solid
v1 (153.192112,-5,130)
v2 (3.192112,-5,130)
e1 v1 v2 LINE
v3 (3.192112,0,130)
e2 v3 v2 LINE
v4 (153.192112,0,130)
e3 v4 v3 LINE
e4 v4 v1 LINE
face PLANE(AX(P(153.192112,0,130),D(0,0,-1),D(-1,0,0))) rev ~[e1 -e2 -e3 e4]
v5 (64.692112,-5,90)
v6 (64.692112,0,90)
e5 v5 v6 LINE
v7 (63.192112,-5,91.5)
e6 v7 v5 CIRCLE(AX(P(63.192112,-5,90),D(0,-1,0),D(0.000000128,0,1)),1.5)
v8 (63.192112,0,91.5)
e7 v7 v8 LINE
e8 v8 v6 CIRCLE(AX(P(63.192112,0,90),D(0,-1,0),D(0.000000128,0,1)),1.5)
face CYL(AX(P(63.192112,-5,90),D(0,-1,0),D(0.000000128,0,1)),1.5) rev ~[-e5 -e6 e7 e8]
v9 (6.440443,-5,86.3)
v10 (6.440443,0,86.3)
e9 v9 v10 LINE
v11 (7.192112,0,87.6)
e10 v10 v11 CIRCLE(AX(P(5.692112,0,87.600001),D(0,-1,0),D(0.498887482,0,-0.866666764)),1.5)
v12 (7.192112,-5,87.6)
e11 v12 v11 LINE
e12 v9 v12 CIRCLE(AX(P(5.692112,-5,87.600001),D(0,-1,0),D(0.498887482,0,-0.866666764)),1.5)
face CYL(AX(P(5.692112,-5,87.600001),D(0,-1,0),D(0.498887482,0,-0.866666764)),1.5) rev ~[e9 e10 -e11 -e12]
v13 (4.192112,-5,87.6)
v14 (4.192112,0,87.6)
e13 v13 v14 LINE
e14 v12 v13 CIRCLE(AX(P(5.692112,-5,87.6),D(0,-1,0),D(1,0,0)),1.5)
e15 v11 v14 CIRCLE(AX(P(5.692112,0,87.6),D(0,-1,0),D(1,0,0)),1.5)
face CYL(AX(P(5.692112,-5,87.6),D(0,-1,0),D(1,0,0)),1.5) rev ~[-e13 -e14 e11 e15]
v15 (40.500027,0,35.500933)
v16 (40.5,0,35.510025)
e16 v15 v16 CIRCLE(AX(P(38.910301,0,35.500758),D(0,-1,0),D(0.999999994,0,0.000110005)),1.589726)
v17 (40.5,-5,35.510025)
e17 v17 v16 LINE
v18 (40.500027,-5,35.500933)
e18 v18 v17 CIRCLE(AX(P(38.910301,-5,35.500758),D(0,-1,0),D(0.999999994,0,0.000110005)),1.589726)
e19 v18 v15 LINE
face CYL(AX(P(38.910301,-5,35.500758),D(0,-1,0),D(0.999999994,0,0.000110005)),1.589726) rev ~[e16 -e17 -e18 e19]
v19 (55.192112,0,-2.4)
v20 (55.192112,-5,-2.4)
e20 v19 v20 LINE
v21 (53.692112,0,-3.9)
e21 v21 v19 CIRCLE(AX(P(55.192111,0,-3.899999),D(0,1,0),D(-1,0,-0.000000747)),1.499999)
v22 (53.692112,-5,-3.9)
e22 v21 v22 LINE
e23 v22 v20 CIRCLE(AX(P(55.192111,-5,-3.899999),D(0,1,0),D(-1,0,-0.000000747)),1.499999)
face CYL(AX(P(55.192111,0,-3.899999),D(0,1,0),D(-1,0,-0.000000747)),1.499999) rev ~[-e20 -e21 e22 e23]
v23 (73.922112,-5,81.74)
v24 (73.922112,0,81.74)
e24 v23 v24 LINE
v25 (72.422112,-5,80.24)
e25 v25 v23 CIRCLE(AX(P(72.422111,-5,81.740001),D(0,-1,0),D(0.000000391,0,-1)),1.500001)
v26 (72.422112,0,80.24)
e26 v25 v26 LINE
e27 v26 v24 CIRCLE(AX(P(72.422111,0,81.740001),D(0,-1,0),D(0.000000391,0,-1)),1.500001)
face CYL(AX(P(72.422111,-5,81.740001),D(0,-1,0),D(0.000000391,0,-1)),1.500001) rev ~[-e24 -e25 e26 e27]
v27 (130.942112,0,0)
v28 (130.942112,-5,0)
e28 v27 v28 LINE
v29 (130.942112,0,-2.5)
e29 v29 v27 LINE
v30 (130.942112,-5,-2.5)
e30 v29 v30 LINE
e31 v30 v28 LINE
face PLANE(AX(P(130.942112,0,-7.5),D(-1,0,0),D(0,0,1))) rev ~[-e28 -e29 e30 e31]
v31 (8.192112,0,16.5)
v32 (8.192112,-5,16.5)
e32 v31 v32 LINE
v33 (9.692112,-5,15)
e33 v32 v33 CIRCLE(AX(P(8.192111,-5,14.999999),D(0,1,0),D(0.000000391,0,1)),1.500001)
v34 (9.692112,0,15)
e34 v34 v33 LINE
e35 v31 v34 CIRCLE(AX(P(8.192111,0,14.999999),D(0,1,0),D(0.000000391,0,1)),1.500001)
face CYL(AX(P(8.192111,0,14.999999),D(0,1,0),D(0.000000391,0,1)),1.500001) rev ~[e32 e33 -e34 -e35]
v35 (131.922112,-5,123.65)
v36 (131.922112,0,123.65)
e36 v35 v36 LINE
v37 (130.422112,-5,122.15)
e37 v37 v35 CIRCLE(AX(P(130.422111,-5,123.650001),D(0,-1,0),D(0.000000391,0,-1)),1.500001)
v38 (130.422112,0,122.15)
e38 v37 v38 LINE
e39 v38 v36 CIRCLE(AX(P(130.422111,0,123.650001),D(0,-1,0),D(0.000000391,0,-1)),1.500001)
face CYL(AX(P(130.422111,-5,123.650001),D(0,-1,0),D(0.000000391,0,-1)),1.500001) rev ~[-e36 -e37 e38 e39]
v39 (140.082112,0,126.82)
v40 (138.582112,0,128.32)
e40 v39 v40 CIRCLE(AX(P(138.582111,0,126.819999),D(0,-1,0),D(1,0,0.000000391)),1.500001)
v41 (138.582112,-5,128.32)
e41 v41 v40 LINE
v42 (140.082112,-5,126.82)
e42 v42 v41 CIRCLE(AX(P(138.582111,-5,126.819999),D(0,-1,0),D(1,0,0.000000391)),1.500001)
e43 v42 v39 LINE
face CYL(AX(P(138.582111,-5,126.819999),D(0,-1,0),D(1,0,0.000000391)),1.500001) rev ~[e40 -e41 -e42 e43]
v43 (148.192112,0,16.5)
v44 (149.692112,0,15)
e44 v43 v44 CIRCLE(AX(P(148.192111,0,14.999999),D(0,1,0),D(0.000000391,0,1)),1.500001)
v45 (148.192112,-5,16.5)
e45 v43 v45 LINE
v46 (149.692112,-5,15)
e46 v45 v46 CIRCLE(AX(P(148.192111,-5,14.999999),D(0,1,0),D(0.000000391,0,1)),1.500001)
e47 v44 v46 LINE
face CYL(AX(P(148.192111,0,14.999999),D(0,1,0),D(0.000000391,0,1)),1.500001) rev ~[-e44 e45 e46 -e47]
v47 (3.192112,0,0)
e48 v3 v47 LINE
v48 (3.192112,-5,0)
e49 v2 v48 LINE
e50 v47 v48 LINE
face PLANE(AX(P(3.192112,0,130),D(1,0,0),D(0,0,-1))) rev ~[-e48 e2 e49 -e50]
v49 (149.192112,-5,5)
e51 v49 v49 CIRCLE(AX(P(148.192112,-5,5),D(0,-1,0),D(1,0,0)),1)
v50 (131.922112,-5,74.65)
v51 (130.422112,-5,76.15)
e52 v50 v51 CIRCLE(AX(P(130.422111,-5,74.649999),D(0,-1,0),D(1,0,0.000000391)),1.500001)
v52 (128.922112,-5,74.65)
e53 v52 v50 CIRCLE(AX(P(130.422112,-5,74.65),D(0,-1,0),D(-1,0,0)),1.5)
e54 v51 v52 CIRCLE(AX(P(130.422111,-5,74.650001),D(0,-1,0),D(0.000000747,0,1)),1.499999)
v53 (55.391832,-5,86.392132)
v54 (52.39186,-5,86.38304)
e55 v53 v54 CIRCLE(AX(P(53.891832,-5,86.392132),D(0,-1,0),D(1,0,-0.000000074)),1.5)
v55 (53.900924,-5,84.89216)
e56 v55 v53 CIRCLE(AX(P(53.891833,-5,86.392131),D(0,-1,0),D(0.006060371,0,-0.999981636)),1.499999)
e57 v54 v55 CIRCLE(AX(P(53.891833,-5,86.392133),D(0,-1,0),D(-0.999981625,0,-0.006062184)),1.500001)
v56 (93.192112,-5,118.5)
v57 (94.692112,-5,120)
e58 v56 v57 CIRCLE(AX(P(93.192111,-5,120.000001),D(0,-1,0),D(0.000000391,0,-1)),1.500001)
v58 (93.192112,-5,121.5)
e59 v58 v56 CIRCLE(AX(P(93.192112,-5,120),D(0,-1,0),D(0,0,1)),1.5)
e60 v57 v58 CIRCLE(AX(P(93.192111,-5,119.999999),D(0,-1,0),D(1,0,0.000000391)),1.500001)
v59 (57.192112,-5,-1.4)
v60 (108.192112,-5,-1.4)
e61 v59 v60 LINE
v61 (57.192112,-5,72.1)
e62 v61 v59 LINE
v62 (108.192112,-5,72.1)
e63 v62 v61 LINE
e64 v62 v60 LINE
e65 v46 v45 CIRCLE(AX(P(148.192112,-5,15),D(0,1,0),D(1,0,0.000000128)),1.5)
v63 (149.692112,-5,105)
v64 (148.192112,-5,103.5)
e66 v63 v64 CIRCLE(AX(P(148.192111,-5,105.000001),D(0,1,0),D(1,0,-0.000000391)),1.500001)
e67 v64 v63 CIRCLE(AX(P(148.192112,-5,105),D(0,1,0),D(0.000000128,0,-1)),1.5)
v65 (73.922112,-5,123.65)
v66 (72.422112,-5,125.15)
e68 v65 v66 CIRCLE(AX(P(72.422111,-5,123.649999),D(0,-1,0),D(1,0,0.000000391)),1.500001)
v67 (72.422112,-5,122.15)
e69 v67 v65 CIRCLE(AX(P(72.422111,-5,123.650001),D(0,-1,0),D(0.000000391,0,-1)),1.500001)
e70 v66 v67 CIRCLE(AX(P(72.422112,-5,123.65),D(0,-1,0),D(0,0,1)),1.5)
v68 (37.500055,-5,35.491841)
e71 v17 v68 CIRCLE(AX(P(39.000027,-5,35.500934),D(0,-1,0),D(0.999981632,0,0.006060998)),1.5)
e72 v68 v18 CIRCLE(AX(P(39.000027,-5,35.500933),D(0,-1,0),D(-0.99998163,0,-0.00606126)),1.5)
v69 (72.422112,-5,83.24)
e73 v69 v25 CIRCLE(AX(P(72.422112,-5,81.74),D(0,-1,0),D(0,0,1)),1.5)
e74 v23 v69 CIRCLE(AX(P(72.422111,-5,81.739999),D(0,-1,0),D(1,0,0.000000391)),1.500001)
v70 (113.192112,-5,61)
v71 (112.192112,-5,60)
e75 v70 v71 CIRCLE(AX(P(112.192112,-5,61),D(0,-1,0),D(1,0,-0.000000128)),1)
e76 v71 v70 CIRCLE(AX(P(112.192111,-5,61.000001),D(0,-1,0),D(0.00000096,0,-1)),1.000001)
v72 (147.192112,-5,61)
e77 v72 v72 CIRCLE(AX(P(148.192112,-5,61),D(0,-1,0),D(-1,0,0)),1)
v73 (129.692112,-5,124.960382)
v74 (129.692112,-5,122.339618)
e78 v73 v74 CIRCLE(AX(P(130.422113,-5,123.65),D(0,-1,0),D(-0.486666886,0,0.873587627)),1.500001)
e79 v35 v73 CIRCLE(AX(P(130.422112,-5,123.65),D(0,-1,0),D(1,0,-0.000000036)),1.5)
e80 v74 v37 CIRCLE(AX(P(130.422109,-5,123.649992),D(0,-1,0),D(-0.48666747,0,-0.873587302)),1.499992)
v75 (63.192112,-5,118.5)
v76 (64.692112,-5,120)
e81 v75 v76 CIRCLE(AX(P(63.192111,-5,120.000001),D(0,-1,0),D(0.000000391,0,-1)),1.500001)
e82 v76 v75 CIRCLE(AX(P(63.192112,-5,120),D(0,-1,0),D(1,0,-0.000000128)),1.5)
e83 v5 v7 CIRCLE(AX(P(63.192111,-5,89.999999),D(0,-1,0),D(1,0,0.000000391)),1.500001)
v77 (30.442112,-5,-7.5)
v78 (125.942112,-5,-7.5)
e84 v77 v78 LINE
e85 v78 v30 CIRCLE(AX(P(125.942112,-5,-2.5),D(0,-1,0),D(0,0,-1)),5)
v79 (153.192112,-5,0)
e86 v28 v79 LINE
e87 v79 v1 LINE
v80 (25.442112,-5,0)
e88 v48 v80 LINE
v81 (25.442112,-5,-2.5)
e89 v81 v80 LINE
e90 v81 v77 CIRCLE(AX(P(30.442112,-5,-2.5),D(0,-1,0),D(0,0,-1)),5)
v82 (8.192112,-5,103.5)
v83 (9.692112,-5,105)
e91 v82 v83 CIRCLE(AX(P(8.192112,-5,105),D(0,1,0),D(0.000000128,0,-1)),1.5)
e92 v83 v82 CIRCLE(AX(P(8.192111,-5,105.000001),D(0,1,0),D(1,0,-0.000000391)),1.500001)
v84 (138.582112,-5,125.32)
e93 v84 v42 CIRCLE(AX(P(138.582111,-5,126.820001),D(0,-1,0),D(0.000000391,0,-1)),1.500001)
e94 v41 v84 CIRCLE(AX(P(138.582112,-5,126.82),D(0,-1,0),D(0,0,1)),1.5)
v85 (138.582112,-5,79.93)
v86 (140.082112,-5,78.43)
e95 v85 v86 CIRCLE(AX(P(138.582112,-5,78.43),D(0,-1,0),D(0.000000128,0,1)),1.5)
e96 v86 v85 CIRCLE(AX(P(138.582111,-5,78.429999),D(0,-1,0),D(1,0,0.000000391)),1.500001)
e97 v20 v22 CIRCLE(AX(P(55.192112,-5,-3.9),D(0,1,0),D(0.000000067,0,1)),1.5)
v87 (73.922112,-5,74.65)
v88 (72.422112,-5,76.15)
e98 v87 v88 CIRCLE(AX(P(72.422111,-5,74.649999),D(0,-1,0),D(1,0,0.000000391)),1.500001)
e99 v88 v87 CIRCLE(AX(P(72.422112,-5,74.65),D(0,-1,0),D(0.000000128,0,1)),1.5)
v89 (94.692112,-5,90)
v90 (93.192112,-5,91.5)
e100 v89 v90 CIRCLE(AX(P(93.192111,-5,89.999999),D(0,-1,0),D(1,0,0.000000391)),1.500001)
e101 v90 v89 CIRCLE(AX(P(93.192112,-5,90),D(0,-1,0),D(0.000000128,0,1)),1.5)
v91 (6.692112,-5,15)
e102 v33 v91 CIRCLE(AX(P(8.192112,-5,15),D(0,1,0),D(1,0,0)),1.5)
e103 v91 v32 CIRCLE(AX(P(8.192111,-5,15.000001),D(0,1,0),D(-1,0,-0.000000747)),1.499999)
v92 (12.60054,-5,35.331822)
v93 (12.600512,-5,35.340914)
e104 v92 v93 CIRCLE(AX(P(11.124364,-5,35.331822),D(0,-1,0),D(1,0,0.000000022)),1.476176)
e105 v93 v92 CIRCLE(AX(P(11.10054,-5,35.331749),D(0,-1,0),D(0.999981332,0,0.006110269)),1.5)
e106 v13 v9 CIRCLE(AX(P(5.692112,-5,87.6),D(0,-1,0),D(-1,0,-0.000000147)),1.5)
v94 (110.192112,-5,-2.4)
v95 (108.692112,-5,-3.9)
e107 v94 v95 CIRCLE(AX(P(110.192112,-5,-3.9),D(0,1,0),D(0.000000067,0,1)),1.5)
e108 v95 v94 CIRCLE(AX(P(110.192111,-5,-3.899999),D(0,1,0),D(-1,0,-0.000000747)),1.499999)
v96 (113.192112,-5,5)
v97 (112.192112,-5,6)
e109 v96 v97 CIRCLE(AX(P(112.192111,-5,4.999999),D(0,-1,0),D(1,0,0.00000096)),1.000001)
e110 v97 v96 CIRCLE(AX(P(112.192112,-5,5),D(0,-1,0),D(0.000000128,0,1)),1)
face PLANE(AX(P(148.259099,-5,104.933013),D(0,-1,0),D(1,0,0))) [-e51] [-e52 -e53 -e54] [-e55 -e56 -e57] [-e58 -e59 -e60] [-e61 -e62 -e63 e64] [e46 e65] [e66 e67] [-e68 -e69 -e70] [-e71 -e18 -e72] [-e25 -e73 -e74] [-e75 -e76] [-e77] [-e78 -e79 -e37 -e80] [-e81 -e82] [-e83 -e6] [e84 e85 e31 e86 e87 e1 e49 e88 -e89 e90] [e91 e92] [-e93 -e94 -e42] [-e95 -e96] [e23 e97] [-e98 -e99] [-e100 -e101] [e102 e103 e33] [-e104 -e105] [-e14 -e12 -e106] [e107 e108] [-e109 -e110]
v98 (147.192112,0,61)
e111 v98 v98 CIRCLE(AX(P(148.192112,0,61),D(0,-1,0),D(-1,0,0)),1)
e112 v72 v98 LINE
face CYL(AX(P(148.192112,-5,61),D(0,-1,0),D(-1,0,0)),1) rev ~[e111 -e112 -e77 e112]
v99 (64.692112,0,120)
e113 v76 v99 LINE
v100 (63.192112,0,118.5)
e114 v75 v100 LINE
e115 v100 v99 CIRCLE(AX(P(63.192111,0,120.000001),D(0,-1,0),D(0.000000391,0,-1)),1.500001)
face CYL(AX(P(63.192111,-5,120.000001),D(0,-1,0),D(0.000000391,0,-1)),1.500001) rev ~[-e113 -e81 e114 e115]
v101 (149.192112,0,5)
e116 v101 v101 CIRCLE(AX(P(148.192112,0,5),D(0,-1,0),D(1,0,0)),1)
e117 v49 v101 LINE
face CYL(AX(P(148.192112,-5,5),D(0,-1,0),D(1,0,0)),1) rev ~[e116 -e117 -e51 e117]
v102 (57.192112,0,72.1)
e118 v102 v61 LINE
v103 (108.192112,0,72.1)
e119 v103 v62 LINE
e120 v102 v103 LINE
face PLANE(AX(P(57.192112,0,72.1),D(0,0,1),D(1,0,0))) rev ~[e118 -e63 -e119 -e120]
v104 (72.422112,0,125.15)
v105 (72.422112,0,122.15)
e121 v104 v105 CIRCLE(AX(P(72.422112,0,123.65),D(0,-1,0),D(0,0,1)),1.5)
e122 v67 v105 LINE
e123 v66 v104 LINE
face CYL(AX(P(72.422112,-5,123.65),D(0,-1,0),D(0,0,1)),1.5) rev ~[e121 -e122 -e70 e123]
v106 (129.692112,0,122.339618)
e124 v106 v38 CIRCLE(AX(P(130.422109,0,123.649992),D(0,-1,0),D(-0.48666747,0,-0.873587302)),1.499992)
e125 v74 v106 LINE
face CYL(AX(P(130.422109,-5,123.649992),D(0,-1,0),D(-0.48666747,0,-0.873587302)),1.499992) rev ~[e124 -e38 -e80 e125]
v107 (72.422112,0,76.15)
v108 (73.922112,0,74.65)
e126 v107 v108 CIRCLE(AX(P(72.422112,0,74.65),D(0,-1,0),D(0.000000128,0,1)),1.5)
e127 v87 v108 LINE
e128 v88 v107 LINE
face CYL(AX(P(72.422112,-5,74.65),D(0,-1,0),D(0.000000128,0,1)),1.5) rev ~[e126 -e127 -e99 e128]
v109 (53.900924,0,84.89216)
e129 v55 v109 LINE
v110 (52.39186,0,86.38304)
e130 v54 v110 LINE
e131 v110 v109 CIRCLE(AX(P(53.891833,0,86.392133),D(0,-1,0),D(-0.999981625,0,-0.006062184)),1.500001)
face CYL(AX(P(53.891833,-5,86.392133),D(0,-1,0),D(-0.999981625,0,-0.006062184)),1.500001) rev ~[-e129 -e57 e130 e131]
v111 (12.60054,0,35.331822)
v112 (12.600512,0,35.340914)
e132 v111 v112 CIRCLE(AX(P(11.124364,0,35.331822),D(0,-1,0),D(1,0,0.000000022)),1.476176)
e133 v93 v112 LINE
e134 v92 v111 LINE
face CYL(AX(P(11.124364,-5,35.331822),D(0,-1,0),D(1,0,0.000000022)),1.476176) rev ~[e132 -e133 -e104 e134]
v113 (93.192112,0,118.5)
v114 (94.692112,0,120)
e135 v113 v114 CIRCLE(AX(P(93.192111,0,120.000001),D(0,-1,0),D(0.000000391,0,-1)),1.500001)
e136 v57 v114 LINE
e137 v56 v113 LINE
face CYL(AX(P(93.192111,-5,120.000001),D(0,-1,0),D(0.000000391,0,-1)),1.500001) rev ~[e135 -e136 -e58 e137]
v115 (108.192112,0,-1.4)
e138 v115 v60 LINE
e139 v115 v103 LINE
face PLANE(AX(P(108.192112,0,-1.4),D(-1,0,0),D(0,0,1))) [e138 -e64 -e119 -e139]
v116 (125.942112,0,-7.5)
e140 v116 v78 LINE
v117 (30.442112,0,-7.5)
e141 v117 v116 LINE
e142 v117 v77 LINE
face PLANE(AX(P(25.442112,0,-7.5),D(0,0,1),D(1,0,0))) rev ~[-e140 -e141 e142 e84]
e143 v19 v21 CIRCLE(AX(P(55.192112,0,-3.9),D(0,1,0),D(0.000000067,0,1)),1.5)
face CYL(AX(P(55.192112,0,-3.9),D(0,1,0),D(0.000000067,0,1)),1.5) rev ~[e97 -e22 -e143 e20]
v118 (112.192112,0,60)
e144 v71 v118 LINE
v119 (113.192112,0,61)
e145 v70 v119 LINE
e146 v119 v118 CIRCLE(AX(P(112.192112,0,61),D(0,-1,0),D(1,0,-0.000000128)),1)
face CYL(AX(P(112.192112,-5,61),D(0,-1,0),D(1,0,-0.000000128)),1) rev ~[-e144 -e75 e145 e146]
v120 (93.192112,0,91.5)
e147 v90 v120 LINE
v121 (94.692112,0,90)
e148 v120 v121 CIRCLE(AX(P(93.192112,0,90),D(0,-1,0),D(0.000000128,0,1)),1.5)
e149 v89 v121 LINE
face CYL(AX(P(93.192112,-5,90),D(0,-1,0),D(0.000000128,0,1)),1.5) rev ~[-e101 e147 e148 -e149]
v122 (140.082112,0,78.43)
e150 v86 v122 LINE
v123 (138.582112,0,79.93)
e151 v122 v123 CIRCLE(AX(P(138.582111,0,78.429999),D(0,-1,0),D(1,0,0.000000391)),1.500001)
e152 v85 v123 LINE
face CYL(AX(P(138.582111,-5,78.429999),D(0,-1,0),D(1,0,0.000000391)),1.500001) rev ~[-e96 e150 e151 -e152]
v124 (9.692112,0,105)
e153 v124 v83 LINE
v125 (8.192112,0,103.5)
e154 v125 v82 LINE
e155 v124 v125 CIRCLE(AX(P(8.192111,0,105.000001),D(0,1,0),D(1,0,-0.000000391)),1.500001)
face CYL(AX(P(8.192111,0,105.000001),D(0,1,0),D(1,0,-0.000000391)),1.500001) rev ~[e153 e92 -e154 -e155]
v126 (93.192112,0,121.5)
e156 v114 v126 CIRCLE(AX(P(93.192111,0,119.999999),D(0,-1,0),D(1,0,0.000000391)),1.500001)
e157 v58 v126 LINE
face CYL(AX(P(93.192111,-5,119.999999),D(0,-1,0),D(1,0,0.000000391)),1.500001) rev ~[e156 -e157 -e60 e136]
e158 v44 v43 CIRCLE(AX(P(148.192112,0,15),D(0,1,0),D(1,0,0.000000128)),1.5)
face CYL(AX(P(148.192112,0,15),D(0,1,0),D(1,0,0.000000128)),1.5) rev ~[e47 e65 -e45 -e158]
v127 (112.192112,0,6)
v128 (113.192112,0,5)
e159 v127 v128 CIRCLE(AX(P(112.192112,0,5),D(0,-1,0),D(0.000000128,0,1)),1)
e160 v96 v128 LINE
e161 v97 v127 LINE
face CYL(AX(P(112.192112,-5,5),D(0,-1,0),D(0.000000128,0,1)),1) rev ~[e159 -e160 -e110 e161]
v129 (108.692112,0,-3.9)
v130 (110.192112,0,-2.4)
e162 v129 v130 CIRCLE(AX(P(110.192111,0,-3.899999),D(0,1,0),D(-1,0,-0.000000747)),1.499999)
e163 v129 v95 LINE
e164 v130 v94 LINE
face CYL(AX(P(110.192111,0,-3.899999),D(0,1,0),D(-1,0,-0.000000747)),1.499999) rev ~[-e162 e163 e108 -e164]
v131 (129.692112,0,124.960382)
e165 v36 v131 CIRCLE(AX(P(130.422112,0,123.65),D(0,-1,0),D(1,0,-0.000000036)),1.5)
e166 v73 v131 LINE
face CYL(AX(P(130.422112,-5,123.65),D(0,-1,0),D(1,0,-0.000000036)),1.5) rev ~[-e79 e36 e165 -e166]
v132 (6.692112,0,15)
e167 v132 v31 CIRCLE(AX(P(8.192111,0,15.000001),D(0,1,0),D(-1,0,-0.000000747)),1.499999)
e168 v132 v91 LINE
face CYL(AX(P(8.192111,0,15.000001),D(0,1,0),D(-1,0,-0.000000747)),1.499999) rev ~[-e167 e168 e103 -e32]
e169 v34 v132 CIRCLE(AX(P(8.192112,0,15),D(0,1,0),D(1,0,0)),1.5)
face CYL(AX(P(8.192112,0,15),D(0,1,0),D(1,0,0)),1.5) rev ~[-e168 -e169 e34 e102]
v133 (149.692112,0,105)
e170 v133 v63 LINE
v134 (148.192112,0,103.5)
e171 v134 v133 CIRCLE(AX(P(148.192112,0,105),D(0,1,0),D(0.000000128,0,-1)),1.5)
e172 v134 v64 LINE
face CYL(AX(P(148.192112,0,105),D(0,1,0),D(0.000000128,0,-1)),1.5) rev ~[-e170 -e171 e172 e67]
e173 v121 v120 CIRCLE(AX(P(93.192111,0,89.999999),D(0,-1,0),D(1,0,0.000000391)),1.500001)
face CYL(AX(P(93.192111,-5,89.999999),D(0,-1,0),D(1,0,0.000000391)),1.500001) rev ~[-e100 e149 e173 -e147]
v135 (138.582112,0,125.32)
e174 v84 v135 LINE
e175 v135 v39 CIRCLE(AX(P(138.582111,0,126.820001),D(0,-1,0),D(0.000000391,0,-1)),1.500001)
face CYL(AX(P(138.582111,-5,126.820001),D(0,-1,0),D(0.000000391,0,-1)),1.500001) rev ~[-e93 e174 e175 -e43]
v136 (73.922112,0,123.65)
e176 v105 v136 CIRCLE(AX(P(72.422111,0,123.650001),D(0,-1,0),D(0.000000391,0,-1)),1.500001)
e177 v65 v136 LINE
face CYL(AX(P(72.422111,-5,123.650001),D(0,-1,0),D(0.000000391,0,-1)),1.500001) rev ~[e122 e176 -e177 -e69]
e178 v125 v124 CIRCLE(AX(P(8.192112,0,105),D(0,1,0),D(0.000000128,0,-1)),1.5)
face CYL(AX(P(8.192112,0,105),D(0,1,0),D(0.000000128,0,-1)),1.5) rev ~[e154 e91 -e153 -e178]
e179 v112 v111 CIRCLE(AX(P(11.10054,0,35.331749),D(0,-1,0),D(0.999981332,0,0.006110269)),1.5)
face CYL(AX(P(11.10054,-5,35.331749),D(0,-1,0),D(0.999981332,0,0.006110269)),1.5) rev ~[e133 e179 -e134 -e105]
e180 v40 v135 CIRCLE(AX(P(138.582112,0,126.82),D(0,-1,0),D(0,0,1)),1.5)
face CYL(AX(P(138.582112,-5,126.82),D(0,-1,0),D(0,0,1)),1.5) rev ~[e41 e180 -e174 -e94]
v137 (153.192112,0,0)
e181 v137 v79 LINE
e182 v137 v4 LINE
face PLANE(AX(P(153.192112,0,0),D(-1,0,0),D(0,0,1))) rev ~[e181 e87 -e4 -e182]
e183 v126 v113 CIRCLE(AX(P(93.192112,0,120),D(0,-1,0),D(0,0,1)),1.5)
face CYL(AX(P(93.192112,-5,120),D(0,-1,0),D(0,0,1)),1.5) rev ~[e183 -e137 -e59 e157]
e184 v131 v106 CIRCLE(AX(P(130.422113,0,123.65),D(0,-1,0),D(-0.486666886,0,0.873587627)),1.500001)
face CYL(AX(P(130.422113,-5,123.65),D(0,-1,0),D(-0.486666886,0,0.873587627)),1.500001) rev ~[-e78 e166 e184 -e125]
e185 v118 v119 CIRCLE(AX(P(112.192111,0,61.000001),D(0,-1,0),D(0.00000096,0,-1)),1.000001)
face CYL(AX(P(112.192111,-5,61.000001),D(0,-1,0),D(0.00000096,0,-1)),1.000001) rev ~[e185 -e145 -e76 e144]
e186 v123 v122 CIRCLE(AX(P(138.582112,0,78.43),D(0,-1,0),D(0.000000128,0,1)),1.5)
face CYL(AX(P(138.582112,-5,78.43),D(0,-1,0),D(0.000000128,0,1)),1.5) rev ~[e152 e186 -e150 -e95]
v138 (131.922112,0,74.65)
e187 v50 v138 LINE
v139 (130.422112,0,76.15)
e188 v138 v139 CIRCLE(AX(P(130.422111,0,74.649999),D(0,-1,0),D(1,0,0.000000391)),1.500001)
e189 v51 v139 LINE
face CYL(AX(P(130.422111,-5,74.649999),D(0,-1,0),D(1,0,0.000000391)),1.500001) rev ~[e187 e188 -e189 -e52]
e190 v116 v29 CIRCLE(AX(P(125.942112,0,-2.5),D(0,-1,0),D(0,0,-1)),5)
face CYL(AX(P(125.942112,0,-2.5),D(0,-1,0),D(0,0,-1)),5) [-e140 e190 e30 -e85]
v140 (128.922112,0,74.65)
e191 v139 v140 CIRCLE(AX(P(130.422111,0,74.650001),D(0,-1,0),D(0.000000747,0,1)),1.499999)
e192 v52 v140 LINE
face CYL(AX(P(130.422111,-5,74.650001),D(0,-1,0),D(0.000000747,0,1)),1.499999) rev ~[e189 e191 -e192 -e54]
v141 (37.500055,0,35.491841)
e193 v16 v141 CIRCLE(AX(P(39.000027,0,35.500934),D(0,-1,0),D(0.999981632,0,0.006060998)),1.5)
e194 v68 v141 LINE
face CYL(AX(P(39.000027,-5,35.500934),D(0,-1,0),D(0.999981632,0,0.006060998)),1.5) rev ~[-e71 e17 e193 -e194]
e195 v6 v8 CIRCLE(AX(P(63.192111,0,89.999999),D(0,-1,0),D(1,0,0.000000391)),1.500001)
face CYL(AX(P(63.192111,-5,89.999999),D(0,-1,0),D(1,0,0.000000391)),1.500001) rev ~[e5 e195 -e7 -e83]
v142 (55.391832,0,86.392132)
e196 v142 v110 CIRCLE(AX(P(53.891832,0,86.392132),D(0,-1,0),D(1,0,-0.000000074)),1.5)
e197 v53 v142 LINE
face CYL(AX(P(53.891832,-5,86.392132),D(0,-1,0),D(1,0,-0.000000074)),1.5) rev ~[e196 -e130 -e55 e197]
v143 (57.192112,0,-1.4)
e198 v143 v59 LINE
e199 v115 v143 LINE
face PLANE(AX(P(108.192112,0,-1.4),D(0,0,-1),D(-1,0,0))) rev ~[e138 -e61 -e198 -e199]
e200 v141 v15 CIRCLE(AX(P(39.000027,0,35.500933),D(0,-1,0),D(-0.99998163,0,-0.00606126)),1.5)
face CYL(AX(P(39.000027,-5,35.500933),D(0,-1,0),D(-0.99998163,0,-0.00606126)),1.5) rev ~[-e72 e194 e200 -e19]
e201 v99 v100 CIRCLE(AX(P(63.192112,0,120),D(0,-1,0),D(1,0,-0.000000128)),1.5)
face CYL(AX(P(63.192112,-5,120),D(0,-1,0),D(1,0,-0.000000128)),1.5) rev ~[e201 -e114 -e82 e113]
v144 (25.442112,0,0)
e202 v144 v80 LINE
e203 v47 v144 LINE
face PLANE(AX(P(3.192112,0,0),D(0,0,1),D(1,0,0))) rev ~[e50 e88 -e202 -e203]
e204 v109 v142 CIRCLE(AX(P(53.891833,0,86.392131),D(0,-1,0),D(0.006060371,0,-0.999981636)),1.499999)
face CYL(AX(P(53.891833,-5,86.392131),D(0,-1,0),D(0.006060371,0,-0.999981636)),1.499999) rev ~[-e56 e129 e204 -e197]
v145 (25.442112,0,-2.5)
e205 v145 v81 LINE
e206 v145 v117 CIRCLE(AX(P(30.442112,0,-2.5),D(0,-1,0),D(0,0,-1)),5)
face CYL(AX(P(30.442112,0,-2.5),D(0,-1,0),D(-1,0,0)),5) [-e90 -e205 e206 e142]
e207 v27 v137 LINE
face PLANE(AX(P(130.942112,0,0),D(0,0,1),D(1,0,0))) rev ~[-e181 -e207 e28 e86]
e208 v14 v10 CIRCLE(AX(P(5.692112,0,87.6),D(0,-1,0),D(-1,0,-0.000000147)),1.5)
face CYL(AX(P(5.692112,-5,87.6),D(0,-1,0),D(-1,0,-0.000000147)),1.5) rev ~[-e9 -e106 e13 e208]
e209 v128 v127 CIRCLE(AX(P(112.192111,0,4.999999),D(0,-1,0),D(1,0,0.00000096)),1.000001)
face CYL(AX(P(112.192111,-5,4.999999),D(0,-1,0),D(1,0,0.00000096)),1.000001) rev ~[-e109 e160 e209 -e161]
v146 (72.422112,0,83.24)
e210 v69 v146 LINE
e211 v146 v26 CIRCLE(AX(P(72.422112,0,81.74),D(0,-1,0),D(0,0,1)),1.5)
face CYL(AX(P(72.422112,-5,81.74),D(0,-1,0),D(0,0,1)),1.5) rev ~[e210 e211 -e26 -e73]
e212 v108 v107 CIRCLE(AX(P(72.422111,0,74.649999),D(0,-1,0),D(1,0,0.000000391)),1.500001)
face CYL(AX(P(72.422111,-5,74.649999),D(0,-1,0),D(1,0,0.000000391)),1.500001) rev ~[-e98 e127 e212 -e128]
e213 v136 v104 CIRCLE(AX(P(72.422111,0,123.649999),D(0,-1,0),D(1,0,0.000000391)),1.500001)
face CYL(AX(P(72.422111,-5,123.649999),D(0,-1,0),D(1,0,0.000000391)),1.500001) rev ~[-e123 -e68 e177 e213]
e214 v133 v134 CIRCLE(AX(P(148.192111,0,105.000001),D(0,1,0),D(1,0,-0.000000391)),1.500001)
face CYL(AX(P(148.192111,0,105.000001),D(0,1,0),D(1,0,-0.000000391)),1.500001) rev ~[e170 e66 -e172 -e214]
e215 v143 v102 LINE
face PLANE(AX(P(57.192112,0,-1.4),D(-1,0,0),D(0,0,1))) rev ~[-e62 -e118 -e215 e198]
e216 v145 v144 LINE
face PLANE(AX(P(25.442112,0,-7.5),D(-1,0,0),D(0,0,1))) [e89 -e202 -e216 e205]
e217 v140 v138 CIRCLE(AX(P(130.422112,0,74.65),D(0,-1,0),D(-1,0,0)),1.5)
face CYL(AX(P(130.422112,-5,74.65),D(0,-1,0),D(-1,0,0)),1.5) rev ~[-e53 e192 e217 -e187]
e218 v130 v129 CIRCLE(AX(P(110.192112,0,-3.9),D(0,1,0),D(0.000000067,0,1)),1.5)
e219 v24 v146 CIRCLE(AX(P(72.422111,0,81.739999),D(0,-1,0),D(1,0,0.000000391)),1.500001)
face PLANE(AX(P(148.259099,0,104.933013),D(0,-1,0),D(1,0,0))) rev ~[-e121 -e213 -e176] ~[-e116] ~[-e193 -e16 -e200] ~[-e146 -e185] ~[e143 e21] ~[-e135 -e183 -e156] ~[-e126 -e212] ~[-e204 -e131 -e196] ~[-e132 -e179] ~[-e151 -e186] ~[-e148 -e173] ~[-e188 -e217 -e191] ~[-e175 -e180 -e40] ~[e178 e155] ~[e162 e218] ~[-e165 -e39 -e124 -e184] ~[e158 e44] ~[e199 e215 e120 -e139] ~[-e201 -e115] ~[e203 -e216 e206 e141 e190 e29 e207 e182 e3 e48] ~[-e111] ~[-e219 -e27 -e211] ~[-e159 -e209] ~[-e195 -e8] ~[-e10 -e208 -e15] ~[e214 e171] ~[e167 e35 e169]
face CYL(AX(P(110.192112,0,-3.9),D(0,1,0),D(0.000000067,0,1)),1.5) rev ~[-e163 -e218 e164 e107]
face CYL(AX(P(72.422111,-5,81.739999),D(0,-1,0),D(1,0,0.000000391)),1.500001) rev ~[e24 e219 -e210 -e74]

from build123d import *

# Parameters (mm, degrees)
F0_W     = 105.5
F0_H     = 7.5
F1_DEPTH = 5
F3_DEPTH = 25
F4_W     = 25.1
F4_H     = 73.5
F4_W_2   = 25.9
F5_DEPTH = 25
F6_R     = 5


with BuildPart() as f1:
    # F0 (on Front) → F1 (new body)
    with BuildSketch(Plane.XZ):
        with BuildLine():
            ThreePointArc((149.692112, 105), (147.131451, 106.06066), (148.192112, 103.5))
            ThreePointArc((148.192112, 103.5), (149.252772, 103.93934), (149.692112, 105))
        make_face()
        with BuildLine():
            ThreePointArc((9.692112, 105), (7.131451, 106.06066), (8.192112, 103.5))
            ThreePointArc((8.192112, 103.5), (9.252772, 103.93934), (9.692112, 105))
        make_face()
        Polygon((3.192112, 15), (3.192112, 0), (25.442112, 0), (130.942112, 0), (153.192112, 0), (153.192112, 15), (153.192112, 130), (3.192112, 130), align=None)
        with BuildLine():
            ThreePointArc((9.692112, 15), (8.192112, 13.5), (6.692112, 15))
            ThreePointArc((6.692112, 15), (7.131451, 16.06066), (8.192112, 16.5))
            ThreePointArc((8.192112, 16.5), (9.252772, 16.06066), (9.692112, 15))
        make_face(mode=Mode.SUBTRACT)
        with BuildLine():
            ThreePointArc((148.192112, 16.5), (149.252772, 16.06066), (149.692112, 15))
            ThreePointArc((149.692112, 15), (147.131451, 13.93934), (148.192112, 16.5))
        make_face(mode=Mode.SUBTRACT)
        with BuildLine():
            ThreePointArc((9.692112, 105), (9.252772, 103.93934), (8.192112, 103.5))
            ThreePointArc((8.192112, 103.5), (7.131451, 106.06066), (9.692112, 105))
        make_face(mode=Mode.SUBTRACT)
        with BuildLine():
            ThreePointArc((149.692112, 105), (149.252772, 103.93934), (148.192112, 103.5))
            ThreePointArc((148.192112, 103.5), (147.131451, 106.06066), (149.692112, 105))
        make_face(mode=Mode.SUBTRACT)
        with Locations((78.192112, -3.75)):
            Rectangle(F0_W, F0_H)
    extrude(amount=F1_DEPTH)

    # F2 (on face) → F3 (cut)
    with BuildSketch(Plane.XZ.offset(5)):
        with BuildLine():
            ThreePointArc((7.192112, 87.6), (5.692112, 89.1), (4.192112, 87.6))
            Line((4.192112, 87.6), (5.692112, 87.6))
            Line((5.692112, 87.6), (5.692112, 86.3))
            Line((5.692112, 86.3), (6.440443, 86.3))
            ThreePointArc((6.440443, 86.3), (6.990668, 86.849166), (7.192112, 87.6))
        make_face()
        with BuildLine():
            ThreePointArc((12.60054, 35.331822), (12.600533, 35.336368), (12.600512, 35.340914))
            ThreePointArc((12.600512, 35.340914), (9.600547, 35.327276), (12.60054, 35.331822))
        make_face()
        with BuildLine():
            ThreePointArc((40.500027, 35.500933), (40.50002, 35.505479), (40.5, 35.510025))
            Line((40.5, 35.510025), (39.000027, 35.500933))
            Line((39.000027, 35.500933), (37.500055, 35.491841))
            ThreePointArc((37.500055, 35.491841), (39.004573, 34.00094), (40.500027, 35.500933))
        make_face()
        with BuildLine():
            Line((39.000027, 35.500933), (40.5, 35.510025))
            ThreePointArc((40.5, 35.510025), (38.990935, 37.000906), (37.500055, 35.491841))
            Line((37.500055, 35.491841), (39.000027, 35.500933))
        make_face()
        with BuildLine():
            ThreePointArc((55.391832, 86.392132), (53.887286, 87.892125), (52.39186, 86.38304))
            Line((52.39186, 86.38304), (53.891832, 86.392132))
            Line((53.891832, 86.392132), (53.900924, 84.89216))
            ThreePointArc((53.900924, 84.89216), (54.955702, 85.334691), (55.391832, 86.392132))
        make_face()
        with BuildLine():
            Line((53.891832, 86.392132), (52.39186, 86.38304))
            ThreePointArc((52.39186, 86.38304), (52.837621, 85.325063), (53.900924, 84.89216))
            Line((53.900924, 84.89216), (53.891832, 86.392132))
        make_face()
        with BuildLine():
            Line((5.692112, 87.6), (4.192112, 87.6))
            ThreePointArc((4.192112, 87.6), (4.941278, 86.301444), (6.440443, 86.3))
            Line((6.440443, 86.3), (5.692112, 86.3))
            Line((5.692112, 86.3), (5.692112, 87.6))
        make_face()
        with BuildLine():
            ThreePointArc((147.192112, 5), (148.192112, 4), (149.192112, 5))
            Line((149.192112, 5), (148.192112, 5))
            Line((148.192112, 5), (147.192112, 5))
        make_face()
        with BuildLine():
            Line((148.192112, 5), (149.192112, 5))
            ThreePointArc((149.192112, 5), (148.192112, 6), (147.192112, 5))
            Line((147.192112, 5), (148.192112, 5))
        make_face()
        with BuildLine():
            ThreePointArc((149.192112, 61), (148.192112, 62), (147.192112, 61))
            ThreePointArc((147.192112, 61), (148.192112, 60), (149.192112, 61))
        make_face()
        with BuildLine():
            ThreePointArc((113.192112, 61), (111.485005, 61.707107), (112.192112, 60))
            Line((112.192112, 60), (112.192112, 61))
            Line((112.192112, 61), (113.192112, 61))
        make_face()
        with BuildLine():
            Line((112.192112, 61), (112.192112, 60))
            ThreePointArc((112.192112, 60), (112.899218, 60.292893), (113.192112, 61))
            Line((113.192112, 61), (112.192112, 61))
        make_face()
        with BuildLine():
            ThreePointArc((112.192112, 6), (111.485005, 4.292893), (113.192112, 5))
            Line((113.192112, 5), (112.192112, 5))
            Line((112.192112, 5), (112.192112, 6))
        make_face()
        with BuildLine():
            Line((112.192112, 5), (113.192112, 5))
            ThreePointArc((113.192112, 5), (112.899218, 5.707107), (112.192112, 6))
            Line((112.192112, 6), (112.192112, 5))
        make_face()
        with BuildLine():
            ThreePointArc((140.082112, 78.43), (139.642772, 79.49066), (138.582112, 79.93))
            ThreePointArc((138.582112, 79.93), (137.521451, 77.36934), (140.082112, 78.43))
        make_face()
        with BuildLine():
            ThreePointArc((140.082112, 126.82), (139.642772, 127.88066), (138.582112, 128.32))
            Line((138.582112, 128.32), (138.582112, 126.82))
            Line((138.582112, 126.82), (138.582112, 125.32))
            ThreePointArc((138.582112, 125.32), (139.642772, 125.75934), (140.082112, 126.82))
        make_face()
        with BuildLine():
            Line((138.582112, 126.82), (138.582112, 128.32))
            ThreePointArc((138.582112, 128.32), (137.082112, 126.82), (138.582112, 125.32))
            Line((138.582112, 125.32), (138.582112, 126.82))
        make_face()
        with BuildLine():
            ThreePointArc((64.692112, 90), (64.252772, 91.06066), (63.192112, 91.5))
            ThreePointArc((63.192112, 91.5), (62.131451, 88.93934), (64.692112, 90))
        make_face()
        with BuildLine():
            ThreePointArc((64.692112, 120), (62.131451, 121.06066), (63.192112, 118.5))
            ThreePointArc((63.192112, 118.5), (64.252772, 118.93934), (64.692112, 120))
        make_face()
        with BuildLine():
            ThreePointArc((72.422112, 125.15), (70.922112, 123.65), (72.422112, 122.15))
            Line((72.422112, 122.15), (72.422112, 123.65))
            Line((72.422112, 123.65), (72.422112, 125.15))
        make_face()
        with BuildLine():
            Line((72.422112, 123.65), (72.422112, 122.15))
            ThreePointArc((72.422112, 122.15), (73.482772, 122.58934), (73.922112, 123.65))
            ThreePointArc((73.922112, 123.65), (73.482772, 124.71066), (72.422112, 125.15))
            Line((72.422112, 125.15), (72.422112, 123.65))
        make_face()
        with BuildLine():
            ThreePointArc((72.422112, 83.24), (70.922112, 81.74), (72.422112, 80.24))
            Line((72.422112, 80.24), (72.422112, 81.74))
            Line((72.422112, 81.74), (72.422112, 83.24))
        make_face()
        with BuildLine():
            Line((72.422112, 81.74), (72.422112, 80.24))
            ThreePointArc((72.422112, 80.24), (73.482772, 80.67934), (73.922112, 81.74))
            ThreePointArc((73.922112, 81.74), (73.482772, 82.80066), (72.422112, 83.24))
            Line((72.422112, 83.24), (72.422112, 81.74))
        make_face()
        with BuildLine():
            ThreePointArc((72.422112, 76.15), (71.361451, 73.58934), (73.922112, 74.65))
            Line((73.922112, 74.65), (72.422112, 74.65))
            Line((72.422112, 74.65), (72.422112, 76.15))
        make_face()
        with BuildLine():
            Line((72.422112, 74.65), (73.922112, 74.65))
            ThreePointArc((73.922112, 74.65), (73.482772, 75.71066), (72.422112, 76.15))
            Line((72.422112, 76.15), (72.422112, 74.65))
        make_face()
        with BuildLine():
            ThreePointArc((131.922112, 74.65), (131.482772, 75.71066), (130.422112, 76.15))
            Line((130.422112, 76.15), (130.422112, 74.65))
            Line((130.422112, 74.65), (128.922112, 74.65))
            ThreePointArc((128.922112, 74.65), (130.422112, 73.15), (131.922112, 74.65))
        make_face()
        with BuildLine():
            Line((130.422112, 74.65), (130.422112, 76.15))
            ThreePointArc((130.422112, 76.15), (129.361451, 75.71066), (128.922112, 74.65))
            Line((128.922112, 74.65), (130.422112, 74.65))
        make_face()
        with BuildLine():
            ThreePointArc((131.922112, 123.65), (131.182046, 124.943252), (129.692112, 124.960382))
            Line((129.692112, 124.960382), (129.692112, 122.339618))
            ThreePointArc((129.692112, 122.339618), (130.044999, 122.198178), (130.422112, 122.15))
            ThreePointArc((130.422112, 122.15), (131.482772, 122.58934), (131.922112, 123.65))
        make_face()
        with BuildLine():
            Line((129.692112, 122.339618), (129.692112, 124.960382))
            ThreePointArc((129.692112, 124.960382), (128.922112, 123.65), (129.692112, 122.339618))
        make_face()
        with BuildLine():
            ThreePointArc((93.192112, 91.5), (92.131451, 88.93934), (94.692112, 90))
            ThreePointArc((94.692112, 90), (94.252772, 91.06066), (93.192112, 91.5))
        make_face()
        with BuildLine():
            ThreePointArc((93.192112, 121.5), (91.692112, 120), (93.192112, 118.5))
            Line((93.192112, 118.5), (93.192112, 120))
            Line((93.192112, 120), (93.192112, 121.5))
        make_face()
        with BuildLine():
            Line((93.192112, 120), (93.192112, 118.5))
            ThreePointArc((93.192112, 118.5), (94.252772, 118.93934), (94.692112, 120))
            ThreePointArc((94.692112, 120), (94.252772, 121.06066), (93.192112, 121.5))
            Line((93.192112, 121.5), (93.192112, 120))
        make_face()
    extrude(amount=-F3_DEPTH, mode=Mode.SUBTRACT)

    # F4 (on face) → F5 (cut)
    with BuildSketch(Plane(origin=(0, 0, 0), x_dir=(-1, 0, 0), z_dir=(0, 1, 0))):
        with Locations((-95.642112, 35.35)):
            Rectangle(F4_W, F4_H)
        with Locations((-70.142112, 35.35)):
            Rectangle(F4_W_2, F4_H)
        with BuildLine():
            ThreePointArc((-108.692112, -3.9), (-109.131451, -2.83934), (-110.192112, -2.4))
            ThreePointArc((-110.192112, -2.4), (-111.252772, -4.96066), (-108.692112, -3.9))
        make_face()
        with BuildLine():
            ThreePointArc((-53.692112, -3.9), (-54.131451, -2.83934), (-55.192112, -2.4))
            ThreePointArc((-55.192112, -2.4), (-56.252772, -4.96066), (-53.692112, -3.9))
        make_face()
    extrude(amount=-F5_DEPTH, mode=Mode.SUBTRACT)

    # F6
    f6_edges = [f1.edges().sort_by_distance(p)[0] for p in [
        (130.942112, -2.5, -7.5),
        (25.442112, -2.5, -7.5),
    ]]
    fillet(f6_edges, radius=F6_R)


solid = f1.part
